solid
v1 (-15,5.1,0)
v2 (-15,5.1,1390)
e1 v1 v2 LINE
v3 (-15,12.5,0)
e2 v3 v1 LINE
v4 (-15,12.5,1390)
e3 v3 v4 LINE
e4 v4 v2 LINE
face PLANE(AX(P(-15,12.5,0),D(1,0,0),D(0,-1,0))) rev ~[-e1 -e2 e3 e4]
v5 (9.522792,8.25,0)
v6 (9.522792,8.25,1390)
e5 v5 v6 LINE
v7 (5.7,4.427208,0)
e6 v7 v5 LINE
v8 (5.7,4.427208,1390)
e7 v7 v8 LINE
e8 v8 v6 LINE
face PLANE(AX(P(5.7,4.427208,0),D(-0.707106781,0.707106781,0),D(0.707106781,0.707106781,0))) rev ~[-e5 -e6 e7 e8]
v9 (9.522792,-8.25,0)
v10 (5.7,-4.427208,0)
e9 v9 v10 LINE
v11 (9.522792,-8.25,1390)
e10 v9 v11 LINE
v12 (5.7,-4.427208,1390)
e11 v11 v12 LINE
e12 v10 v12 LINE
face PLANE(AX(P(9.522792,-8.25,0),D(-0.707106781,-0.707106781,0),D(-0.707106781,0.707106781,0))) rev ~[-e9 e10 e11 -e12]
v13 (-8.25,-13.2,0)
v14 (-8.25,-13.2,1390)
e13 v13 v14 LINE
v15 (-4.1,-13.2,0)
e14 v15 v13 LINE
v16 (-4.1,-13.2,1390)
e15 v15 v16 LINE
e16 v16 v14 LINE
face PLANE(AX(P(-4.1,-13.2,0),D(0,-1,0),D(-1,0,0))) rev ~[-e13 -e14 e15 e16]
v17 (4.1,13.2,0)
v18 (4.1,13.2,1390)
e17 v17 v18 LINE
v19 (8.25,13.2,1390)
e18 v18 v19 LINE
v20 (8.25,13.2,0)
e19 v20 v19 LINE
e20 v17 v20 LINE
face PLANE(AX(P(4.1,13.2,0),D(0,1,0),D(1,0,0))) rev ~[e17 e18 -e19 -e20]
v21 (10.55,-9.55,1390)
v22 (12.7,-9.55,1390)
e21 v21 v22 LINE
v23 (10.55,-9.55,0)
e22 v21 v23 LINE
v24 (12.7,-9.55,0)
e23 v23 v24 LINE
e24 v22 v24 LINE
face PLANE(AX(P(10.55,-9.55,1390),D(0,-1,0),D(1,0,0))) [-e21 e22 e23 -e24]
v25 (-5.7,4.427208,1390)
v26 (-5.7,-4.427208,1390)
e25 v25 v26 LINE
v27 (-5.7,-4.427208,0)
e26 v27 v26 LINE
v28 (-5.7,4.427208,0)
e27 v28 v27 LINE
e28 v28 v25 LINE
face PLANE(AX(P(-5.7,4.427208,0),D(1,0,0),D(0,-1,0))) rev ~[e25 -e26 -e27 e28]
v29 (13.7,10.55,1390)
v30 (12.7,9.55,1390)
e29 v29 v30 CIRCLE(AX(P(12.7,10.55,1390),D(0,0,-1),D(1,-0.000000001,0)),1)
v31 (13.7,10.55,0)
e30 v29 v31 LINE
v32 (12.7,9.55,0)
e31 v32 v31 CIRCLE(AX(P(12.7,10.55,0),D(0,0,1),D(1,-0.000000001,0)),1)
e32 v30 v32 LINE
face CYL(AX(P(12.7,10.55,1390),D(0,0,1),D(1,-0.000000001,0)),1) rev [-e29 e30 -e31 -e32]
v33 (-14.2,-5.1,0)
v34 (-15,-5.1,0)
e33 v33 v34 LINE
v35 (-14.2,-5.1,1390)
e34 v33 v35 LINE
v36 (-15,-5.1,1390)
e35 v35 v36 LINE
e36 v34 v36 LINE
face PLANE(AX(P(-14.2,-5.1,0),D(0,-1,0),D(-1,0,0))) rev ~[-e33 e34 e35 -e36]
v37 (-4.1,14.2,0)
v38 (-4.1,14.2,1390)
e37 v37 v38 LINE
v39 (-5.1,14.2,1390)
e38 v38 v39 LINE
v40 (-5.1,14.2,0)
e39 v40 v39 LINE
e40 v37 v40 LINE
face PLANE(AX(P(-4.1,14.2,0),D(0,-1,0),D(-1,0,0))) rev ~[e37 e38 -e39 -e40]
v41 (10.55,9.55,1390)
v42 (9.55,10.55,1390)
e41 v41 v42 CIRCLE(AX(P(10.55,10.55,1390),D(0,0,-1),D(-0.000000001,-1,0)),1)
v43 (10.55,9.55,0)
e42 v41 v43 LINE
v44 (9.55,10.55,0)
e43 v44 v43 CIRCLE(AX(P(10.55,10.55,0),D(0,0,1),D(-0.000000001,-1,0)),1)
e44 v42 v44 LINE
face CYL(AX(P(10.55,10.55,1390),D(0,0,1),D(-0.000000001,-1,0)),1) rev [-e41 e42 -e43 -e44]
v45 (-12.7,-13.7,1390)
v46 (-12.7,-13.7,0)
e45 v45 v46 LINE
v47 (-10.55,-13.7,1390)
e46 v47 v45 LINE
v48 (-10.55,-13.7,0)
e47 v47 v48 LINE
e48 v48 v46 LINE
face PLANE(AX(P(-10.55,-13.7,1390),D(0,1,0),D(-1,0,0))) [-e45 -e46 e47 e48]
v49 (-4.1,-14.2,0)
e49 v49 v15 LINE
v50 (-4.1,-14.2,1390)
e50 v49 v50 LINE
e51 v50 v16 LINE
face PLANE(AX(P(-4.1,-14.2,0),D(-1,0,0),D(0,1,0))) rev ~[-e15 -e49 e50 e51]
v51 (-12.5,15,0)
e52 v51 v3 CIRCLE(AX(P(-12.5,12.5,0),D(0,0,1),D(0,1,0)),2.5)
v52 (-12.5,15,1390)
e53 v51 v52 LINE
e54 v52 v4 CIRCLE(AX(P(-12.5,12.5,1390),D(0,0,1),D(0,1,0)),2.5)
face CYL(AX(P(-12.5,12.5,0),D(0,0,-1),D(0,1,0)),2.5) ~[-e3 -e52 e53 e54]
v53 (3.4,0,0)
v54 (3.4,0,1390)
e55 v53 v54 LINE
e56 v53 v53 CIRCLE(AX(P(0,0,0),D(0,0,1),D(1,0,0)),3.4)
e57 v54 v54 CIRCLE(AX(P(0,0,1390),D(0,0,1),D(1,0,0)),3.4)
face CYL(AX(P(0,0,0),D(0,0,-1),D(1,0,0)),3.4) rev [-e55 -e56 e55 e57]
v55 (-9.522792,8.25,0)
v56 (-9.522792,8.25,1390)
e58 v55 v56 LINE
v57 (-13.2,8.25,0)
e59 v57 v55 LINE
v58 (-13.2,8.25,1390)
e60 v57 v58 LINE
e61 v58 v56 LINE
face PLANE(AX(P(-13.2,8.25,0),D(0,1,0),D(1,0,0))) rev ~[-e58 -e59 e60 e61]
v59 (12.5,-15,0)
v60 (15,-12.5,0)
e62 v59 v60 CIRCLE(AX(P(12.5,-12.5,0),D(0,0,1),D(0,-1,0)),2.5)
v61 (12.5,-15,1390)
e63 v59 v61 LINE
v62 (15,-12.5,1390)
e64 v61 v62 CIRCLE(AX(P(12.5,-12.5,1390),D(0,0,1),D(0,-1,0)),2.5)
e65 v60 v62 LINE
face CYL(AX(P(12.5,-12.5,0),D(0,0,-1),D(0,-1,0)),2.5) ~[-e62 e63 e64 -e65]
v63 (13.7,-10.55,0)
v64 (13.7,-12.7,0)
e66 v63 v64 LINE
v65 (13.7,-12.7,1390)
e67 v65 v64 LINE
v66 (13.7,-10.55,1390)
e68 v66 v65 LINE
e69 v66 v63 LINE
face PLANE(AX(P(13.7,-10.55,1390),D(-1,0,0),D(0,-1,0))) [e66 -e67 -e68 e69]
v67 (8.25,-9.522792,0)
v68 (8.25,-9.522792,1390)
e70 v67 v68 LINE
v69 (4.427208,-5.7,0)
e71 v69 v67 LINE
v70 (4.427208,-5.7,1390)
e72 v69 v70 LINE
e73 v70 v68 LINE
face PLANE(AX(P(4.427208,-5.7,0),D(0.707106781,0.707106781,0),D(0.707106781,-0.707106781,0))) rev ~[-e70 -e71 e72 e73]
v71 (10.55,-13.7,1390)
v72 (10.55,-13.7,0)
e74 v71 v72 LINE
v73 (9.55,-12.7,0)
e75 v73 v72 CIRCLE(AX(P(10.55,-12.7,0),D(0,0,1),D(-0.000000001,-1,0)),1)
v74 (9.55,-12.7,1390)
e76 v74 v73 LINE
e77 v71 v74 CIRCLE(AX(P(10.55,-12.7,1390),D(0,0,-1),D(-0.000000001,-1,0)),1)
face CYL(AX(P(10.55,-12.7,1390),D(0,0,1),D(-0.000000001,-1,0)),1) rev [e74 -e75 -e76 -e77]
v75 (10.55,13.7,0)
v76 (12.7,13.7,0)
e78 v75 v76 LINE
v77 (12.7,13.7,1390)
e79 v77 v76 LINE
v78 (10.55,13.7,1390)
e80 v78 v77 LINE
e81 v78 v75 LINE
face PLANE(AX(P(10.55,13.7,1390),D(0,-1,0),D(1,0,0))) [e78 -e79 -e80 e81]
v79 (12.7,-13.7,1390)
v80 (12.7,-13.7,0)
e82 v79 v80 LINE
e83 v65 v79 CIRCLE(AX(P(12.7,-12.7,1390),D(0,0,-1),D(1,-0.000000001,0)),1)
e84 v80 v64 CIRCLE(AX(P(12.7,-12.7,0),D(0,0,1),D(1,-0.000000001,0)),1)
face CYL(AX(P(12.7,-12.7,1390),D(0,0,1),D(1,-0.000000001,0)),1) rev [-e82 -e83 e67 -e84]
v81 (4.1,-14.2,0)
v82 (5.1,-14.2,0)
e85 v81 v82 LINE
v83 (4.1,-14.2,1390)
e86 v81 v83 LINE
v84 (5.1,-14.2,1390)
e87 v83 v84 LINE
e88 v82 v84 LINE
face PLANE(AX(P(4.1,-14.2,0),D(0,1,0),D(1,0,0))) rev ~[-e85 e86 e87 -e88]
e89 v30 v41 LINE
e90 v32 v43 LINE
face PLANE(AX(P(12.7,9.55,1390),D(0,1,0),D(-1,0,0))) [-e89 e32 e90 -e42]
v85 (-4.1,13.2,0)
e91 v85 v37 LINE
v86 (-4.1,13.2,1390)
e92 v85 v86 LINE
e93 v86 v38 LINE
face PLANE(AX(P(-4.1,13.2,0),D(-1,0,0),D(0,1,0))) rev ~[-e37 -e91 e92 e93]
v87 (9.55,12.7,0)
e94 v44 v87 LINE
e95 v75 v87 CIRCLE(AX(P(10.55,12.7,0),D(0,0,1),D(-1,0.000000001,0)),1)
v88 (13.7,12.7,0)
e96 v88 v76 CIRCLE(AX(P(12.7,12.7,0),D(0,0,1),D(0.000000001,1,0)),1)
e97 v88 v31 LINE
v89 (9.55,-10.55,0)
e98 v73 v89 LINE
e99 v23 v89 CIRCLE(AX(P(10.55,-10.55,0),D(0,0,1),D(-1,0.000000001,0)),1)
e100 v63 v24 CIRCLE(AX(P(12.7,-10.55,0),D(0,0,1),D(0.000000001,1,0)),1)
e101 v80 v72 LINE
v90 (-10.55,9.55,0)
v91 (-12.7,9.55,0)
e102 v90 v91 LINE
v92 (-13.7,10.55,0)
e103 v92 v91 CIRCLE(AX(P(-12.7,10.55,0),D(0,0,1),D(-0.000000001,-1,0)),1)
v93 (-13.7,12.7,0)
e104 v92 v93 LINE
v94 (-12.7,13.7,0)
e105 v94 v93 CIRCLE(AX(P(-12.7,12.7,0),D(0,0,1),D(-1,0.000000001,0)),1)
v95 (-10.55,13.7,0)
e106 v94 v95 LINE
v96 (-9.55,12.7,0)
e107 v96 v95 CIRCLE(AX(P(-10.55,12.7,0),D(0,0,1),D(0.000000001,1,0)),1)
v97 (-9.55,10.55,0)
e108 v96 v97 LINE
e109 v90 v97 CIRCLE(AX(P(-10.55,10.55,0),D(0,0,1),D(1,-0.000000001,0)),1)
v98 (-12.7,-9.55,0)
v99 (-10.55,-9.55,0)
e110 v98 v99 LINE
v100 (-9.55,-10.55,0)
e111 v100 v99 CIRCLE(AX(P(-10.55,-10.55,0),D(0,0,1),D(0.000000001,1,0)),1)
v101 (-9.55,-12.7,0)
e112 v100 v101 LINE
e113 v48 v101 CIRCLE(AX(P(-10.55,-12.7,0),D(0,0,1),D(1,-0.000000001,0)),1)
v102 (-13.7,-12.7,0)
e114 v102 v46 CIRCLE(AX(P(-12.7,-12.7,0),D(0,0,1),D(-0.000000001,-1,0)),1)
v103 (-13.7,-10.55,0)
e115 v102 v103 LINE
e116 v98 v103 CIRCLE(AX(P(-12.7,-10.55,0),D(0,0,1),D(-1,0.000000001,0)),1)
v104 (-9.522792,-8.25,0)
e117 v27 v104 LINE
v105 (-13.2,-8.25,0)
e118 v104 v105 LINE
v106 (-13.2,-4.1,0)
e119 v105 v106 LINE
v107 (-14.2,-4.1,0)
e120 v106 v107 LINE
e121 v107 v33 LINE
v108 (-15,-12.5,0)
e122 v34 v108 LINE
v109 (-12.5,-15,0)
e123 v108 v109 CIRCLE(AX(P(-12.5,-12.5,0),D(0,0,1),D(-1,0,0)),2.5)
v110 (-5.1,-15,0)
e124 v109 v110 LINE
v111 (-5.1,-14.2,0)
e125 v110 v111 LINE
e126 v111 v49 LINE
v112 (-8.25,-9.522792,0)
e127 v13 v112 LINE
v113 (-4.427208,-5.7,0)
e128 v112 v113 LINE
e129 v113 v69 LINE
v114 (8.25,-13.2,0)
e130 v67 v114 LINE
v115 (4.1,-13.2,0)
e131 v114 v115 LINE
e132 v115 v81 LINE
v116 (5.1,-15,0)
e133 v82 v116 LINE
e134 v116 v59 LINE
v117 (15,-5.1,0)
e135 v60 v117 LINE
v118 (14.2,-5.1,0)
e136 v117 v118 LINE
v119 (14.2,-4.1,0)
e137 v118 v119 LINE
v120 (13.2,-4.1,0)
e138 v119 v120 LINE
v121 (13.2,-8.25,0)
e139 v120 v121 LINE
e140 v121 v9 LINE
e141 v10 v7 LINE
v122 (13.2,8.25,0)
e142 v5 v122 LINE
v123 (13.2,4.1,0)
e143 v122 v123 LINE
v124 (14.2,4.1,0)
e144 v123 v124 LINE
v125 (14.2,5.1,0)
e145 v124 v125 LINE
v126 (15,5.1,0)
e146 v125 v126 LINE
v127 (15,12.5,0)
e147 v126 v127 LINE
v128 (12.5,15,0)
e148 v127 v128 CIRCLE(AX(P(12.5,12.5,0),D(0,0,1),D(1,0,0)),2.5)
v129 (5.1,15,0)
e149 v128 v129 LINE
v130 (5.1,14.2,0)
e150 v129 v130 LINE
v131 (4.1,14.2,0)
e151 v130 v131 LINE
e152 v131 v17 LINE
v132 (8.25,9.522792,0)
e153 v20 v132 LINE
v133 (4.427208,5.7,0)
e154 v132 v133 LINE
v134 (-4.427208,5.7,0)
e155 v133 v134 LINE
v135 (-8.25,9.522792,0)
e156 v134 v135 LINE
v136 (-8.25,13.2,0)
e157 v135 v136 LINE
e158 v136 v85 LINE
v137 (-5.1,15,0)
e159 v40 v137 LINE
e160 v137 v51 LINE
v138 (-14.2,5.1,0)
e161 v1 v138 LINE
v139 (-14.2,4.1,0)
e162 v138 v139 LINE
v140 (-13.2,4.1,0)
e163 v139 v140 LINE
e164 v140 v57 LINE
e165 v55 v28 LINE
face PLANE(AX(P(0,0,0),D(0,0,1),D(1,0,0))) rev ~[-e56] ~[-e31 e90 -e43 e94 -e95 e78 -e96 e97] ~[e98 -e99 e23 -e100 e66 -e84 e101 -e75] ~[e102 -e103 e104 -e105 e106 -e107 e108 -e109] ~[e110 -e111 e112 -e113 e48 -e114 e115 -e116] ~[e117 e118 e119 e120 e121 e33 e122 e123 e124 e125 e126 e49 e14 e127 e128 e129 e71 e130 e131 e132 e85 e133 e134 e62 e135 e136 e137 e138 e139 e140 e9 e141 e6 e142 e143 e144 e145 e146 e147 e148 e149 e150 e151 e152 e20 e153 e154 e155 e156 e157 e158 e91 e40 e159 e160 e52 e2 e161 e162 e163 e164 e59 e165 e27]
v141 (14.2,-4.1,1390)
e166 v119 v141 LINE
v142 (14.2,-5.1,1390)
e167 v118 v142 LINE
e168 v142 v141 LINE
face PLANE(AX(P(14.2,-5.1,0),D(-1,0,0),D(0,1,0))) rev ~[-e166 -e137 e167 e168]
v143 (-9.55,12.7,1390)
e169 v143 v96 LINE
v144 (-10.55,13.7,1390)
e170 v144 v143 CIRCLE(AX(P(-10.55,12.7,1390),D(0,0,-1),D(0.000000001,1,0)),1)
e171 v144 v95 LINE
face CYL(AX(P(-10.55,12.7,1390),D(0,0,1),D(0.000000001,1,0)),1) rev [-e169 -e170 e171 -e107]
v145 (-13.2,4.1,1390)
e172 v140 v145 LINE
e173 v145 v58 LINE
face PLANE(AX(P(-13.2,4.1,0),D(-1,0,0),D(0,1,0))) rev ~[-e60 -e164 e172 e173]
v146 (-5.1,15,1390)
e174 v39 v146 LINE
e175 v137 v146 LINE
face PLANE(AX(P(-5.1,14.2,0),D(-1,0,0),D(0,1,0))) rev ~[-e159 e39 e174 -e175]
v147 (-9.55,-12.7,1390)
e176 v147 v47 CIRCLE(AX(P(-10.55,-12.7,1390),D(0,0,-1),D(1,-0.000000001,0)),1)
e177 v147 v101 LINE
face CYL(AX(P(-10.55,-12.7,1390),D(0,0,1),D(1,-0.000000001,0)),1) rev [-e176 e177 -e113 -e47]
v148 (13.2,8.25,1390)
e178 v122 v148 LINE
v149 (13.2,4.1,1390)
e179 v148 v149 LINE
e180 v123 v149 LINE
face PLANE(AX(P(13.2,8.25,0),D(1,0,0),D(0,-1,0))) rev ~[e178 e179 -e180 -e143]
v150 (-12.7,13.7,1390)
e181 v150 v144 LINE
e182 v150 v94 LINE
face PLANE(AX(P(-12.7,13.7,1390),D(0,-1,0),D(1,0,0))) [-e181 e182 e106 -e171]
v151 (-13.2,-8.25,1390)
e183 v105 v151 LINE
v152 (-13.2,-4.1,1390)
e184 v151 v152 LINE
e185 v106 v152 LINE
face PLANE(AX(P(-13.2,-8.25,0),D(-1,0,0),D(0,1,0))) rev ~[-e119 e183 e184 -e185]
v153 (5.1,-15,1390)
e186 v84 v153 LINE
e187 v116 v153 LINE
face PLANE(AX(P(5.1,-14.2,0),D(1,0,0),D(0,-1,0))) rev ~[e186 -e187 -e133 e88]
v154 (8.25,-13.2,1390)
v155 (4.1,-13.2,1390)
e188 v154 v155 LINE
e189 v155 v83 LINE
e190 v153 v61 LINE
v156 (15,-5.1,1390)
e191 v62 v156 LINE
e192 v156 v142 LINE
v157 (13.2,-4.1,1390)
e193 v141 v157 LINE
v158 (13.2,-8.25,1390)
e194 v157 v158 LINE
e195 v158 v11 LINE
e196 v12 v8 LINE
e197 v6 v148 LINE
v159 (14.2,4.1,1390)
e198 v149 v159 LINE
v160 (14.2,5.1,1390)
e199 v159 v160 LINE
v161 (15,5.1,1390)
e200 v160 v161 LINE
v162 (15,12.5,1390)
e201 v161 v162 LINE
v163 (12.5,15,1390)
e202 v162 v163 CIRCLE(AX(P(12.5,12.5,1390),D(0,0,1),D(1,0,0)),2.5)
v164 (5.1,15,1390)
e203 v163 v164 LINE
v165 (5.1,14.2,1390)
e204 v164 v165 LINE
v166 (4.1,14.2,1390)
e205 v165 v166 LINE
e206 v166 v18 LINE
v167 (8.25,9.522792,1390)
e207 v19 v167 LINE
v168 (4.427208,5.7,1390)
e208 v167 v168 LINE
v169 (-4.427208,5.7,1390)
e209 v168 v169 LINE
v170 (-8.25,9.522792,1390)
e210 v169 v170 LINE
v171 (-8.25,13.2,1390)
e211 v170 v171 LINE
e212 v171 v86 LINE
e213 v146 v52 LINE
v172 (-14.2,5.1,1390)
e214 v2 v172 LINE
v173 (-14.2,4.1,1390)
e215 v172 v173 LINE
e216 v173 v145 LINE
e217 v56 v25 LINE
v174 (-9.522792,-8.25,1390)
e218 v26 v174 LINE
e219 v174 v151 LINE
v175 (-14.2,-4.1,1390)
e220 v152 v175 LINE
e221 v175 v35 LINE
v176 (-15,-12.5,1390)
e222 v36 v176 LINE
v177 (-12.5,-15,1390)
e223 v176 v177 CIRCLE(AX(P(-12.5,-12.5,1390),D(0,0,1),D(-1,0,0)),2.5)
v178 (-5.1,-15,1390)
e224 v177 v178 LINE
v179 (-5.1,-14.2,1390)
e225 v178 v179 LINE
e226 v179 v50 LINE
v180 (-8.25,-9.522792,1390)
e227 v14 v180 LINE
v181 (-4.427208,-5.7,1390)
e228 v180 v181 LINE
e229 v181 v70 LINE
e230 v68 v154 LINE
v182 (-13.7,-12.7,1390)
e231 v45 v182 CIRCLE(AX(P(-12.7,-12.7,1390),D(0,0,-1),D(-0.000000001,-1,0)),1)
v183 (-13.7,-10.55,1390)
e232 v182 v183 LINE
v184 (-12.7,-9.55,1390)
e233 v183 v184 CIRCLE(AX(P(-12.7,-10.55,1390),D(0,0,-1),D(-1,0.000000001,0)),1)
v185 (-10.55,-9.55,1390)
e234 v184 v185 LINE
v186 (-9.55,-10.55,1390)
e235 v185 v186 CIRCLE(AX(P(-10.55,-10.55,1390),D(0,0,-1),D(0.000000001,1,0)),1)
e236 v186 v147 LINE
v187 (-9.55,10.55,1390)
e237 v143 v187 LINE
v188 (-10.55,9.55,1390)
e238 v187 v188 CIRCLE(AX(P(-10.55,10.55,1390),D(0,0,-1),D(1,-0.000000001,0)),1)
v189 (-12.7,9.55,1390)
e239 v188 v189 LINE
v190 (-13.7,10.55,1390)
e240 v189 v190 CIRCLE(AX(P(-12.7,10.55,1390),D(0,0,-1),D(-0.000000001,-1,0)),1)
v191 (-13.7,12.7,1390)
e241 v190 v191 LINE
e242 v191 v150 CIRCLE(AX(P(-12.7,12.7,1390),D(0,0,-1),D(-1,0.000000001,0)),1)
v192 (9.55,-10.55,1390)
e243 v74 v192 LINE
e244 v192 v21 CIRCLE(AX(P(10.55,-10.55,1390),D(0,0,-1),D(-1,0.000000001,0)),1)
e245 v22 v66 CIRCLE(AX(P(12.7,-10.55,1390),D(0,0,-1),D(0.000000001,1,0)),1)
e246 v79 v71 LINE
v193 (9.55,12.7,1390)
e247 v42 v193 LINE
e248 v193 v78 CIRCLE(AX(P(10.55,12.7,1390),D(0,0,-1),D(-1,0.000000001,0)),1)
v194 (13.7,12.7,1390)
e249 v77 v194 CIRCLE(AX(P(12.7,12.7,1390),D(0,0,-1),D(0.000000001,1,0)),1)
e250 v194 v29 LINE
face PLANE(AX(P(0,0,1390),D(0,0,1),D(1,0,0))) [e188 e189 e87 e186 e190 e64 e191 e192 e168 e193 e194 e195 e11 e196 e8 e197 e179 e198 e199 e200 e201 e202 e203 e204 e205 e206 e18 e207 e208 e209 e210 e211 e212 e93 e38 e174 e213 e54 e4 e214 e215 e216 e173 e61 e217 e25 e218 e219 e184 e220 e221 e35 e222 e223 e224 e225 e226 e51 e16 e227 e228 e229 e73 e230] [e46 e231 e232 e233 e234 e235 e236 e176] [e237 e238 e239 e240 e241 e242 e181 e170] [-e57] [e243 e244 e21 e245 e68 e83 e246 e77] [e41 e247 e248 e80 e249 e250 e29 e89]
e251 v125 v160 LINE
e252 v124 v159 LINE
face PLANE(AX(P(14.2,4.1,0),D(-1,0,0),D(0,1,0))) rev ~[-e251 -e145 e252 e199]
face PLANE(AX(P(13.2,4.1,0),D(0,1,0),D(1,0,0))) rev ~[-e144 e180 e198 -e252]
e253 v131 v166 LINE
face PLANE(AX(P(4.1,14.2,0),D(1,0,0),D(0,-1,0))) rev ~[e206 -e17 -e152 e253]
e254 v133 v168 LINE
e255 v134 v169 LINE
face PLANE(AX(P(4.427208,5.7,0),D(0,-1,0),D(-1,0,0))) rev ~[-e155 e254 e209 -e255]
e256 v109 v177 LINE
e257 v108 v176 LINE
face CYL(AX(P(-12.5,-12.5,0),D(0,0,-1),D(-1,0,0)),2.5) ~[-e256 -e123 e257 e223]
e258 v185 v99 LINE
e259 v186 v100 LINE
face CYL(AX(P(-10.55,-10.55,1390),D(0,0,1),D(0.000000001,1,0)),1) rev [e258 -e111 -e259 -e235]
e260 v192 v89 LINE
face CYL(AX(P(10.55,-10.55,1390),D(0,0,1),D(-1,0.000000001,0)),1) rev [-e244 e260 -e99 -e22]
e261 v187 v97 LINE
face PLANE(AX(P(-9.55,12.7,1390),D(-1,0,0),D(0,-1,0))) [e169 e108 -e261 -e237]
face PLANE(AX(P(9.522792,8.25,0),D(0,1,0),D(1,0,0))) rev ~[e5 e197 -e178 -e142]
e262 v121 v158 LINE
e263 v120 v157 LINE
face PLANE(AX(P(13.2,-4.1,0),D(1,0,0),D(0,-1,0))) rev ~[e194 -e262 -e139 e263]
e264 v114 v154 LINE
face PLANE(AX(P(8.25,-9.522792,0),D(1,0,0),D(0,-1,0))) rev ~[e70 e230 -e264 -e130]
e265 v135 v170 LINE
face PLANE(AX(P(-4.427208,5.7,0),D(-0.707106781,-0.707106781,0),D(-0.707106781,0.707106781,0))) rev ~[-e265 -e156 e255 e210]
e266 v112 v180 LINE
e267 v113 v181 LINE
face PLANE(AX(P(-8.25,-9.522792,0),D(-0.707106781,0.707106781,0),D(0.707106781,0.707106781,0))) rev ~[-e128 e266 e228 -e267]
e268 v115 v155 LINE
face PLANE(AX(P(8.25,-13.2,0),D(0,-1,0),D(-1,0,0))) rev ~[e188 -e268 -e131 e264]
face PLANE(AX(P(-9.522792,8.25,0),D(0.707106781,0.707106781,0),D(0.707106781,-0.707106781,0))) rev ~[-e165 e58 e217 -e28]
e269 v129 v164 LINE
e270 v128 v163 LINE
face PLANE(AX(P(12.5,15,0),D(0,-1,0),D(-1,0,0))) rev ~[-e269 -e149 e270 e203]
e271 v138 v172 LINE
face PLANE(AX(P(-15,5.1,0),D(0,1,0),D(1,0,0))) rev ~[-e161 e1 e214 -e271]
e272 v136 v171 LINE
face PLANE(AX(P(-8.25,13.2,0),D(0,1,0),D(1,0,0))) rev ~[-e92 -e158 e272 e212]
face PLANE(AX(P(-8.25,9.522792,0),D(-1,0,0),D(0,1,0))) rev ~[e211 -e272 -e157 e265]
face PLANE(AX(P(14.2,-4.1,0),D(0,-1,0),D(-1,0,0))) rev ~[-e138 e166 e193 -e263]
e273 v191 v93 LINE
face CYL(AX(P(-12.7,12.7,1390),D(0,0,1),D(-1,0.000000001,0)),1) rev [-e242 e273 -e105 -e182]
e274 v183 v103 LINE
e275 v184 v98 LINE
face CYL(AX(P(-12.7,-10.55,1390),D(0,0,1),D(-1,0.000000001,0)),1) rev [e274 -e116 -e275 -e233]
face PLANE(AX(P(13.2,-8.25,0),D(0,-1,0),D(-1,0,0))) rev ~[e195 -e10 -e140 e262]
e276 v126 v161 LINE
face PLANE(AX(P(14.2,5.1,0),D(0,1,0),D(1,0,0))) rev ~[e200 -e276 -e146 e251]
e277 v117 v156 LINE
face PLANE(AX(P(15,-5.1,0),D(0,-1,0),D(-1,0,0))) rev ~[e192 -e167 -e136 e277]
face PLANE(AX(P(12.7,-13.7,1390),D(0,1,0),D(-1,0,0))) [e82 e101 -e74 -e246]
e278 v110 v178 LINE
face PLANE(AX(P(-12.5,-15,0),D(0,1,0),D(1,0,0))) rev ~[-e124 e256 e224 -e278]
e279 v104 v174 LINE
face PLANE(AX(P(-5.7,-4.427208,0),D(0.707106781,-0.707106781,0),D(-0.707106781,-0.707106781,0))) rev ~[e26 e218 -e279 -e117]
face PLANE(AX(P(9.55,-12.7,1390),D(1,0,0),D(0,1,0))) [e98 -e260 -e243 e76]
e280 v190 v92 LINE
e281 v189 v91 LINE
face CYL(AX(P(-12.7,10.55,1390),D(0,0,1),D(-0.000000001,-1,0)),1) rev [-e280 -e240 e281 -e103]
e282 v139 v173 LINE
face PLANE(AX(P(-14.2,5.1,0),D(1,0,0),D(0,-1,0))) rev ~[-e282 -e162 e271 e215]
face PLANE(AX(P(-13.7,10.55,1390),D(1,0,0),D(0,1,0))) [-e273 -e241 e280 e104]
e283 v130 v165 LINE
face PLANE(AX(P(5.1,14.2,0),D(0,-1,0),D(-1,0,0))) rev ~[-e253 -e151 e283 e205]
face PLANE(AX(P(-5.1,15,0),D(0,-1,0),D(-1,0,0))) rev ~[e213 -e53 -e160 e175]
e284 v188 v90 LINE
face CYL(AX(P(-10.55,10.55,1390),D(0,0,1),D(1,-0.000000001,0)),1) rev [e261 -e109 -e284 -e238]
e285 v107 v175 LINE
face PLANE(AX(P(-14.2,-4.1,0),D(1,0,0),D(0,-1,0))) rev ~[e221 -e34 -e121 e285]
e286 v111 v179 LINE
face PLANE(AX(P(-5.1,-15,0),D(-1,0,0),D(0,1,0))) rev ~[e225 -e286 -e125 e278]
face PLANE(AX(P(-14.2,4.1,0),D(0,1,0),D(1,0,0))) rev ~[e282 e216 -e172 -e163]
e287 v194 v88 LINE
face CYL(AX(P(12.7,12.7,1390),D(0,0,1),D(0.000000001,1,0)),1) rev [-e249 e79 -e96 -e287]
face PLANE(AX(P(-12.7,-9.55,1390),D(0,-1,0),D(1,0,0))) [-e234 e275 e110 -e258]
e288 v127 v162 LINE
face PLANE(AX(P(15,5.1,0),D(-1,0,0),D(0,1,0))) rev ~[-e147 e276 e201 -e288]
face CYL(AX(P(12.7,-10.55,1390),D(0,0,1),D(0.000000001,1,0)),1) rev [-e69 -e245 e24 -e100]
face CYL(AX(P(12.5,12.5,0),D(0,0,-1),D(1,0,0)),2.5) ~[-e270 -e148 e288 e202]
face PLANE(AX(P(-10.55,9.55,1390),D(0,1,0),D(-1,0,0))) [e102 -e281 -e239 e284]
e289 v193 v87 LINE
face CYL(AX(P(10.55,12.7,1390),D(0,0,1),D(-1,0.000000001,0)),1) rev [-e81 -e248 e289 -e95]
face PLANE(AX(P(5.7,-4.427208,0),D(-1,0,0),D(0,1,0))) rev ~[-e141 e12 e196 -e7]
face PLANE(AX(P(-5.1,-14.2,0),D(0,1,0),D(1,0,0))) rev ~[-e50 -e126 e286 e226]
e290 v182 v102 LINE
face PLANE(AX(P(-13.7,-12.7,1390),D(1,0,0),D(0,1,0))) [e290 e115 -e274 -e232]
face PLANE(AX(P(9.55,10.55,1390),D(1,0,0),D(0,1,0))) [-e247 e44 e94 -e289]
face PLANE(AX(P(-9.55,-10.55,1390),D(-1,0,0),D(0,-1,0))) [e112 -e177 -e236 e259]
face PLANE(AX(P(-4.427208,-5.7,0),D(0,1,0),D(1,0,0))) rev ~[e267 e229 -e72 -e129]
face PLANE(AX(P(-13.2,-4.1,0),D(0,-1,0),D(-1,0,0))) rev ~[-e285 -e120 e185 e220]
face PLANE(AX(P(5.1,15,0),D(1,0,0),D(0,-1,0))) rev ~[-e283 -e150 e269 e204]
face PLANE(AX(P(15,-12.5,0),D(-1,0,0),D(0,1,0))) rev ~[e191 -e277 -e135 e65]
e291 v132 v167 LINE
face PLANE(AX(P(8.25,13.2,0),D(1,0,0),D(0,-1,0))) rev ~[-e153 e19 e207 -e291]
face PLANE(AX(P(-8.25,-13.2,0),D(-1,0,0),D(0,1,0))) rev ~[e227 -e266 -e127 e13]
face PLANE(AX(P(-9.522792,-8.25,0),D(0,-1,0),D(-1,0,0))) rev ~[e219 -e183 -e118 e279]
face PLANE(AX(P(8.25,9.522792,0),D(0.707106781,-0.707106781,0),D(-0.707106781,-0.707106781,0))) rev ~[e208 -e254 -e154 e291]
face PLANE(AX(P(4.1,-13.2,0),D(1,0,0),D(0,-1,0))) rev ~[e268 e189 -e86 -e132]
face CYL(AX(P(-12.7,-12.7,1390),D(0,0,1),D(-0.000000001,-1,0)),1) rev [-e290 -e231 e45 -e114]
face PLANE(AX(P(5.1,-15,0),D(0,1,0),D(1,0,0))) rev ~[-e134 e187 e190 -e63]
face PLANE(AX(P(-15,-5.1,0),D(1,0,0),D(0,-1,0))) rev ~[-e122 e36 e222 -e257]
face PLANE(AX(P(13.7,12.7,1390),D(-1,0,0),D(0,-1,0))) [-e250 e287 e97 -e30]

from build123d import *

# Parameters (mm, degrees)
SKETCH1_R      = 3.4
EXTRUDE1_DEPTH = 1390
EXTRUDE2_DEPTH = 1391.161861079


with BuildPart() as part:
    # Sketch1 → Extrude1 (new body)
    with BuildSketch(Plane.XY):
        with BuildLine():
            Line((-5.1, 14.2), (-5.1, 15))
            Line((-5.1, 15), (-12.5, 15))
            ThreePointArc((-12.5, 15), (-14.267766953, 14.267766953), (-15, 12.5))
            Line((-15, 12.5), (-15, 5.1))
            Line((-15, 5.1), (-14.2, 5.1))
            Line((-14.2, 5.1), (-14.2, 4.1))
            Line((-14.2, 4.1), (-13.2, 4.1))
            Line((-13.2, 4.1), (-13.2, 8.25))
            Line((-13.2, 8.25), (-9.522792206, 8.25))
            Line((-9.522792206, 8.25), (-5.7, 4.427207794))
            Line((-5.7, 4.427207794), (-5.7, -4.427207794))
            Line((-5.7, -4.427207794), (-9.522792206, -8.25))
            Line((-9.522792206, -8.25), (-13.2, -8.25))
            Line((-13.2, -8.25), (-13.2, -4.1))
            Line((-13.2, -4.1), (-14.2, -4.1))
            Line((-14.2, -4.1), (-14.2, -5.1))
            Line((-14.2, -5.1), (-15, -5.1))
            Line((-15, -5.1), (-15, -12.5))
            ThreePointArc((-15, -12.5), (-14.267766953, -14.267766953), (-12.5, -15))
            Line((-12.5, -15), (-5.1, -15))
            Line((-5.1, -15), (-5.1, -14.2))
            Line((-5.1, -14.2), (-4.1, -14.2))
            Line((-4.1, -14.2), (-4.1, -13.2))
            Line((-4.1, -13.2), (-8.25, -13.2))
            Line((-8.25, -13.2), (-8.25, -9.522792206))
            Line((-8.25, -9.522792206), (-4.427207794, -5.7))
            Line((-4.427207794, -5.7), (4.427207794, -5.7))
            Line((4.427207794, -5.7), (8.25, -9.522792206))
            Line((8.25, -9.522792206), (8.25, -13.2))
            Line((8.25, -13.2), (4.1, -13.2))
            Line((4.1, -13.2), (4.1, -14.2))
            Line((4.1, -14.2), (5.1, -14.2))
            Line((5.1, -14.2), (5.1, -15))
            Line((5.1, -15), (12.5, -15))
            ThreePointArc((12.5, -15), (14.267766953, -14.267766953), (15, -12.5))
            Line((15, -12.5), (15, -5.1))
            Line((15, -5.1), (14.2, -5.1))
            Line((14.2, -5.1), (14.2, -4.1))
            Line((14.2, -4.1), (13.2, -4.1))
            Line((13.2, -4.1), (13.2, -8.25))
            Line((13.2, -8.25), (9.522792206, -8.25))
            Line((9.522792206, -8.25), (5.7, -4.427207794))
            Line((5.7, -4.427207794), (5.7, 4.427207794))
            Line((5.7, 4.427207794), (9.522792206, 8.25))
            Line((9.522792206, 8.25), (13.2, 8.25))
            Line((13.2, 8.25), (13.2, 4.1))
            Line((13.2, 4.1), (14.2, 4.1))
            Line((14.2, 4.1), (14.2, 5.1))
            Line((14.2, 5.1), (15, 5.1))
            Line((15, 5.1), (15, 12.5))
            ThreePointArc((15, 12.5), (14.267766953, 14.267766953), (12.5, 15))
            Line((12.5, 15), (5.1, 15))
            Line((5.1, 15), (5.1, 14.2))
            Line((5.1, 14.2), (4.1, 14.2))
            Line((4.1, 14.2), (4.1, 13.2))
            Line((4.1, 13.2), (8.25, 13.2))
            Line((8.25, 13.2), (8.25, 9.522792206))
            Line((8.25, 9.522792206), (4.427207794, 5.7))
            Line((4.427207794, 5.7), (-4.427207794, 5.7))
            Line((-4.427207794, 5.7), (-8.25, 9.522792206))
            Line((-8.25, 9.522792206), (-8.25, 13.2))
            Line((-8.25, 13.2), (-4.1, 13.2))
            Line((-4.1, 13.2), (-4.1, 14.2))
            Line((-4.1, 14.2), (-5.1, 14.2))
        make_face()
        Circle(SKETCH1_R, mode=Mode.SUBTRACT)
    extrude(amount=EXTRUDE1_DEPTH)

    # Sketch2 → Extrude2 (cut, through all)
    with BuildSketch(Plane.XY.offset(1390)):
        with BuildLine():
            Line((13.7, 12.7), (13.7, 10.55))
            ThreePointArc((13.7, 10.55), (13.407106781, 9.842893219), (12.7, 9.55))
            Line((12.7, 9.55), (10.55, 9.55))
            ThreePointArc((10.55, 9.55), (9.842893219, 9.842893219), (9.55, 10.55))
            Line((9.55, 10.55), (9.55, 12.7))
            ThreePointArc((9.55, 12.7), (9.842893219, 13.407106781), (10.55, 13.7))
            Line((10.55, 13.7), (12.7, 13.7))
            ThreePointArc((12.7, 13.7), (13.407106781, 13.407106781), (13.7, 12.7))
        make_face()
        with BuildLine():
            Line((-12.7, 13.7), (-10.55, 13.7))
            ThreePointArc((-10.55, 13.7), (-9.842893219, 13.407106781), (-9.55, 12.7))
            Line((-9.55, 12.7), (-9.55, 10.55))
            ThreePointArc((-9.55, 10.55), (-9.842893219, 9.842893219), (-10.55, 9.55))
            Line((-10.55, 9.55), (-12.7, 9.55))
            ThreePointArc((-12.7, 9.55), (-13.407106781, 9.842893219), (-13.7, 10.55))
            Line((-13.7, 10.55), (-13.7, 12.7))
            ThreePointArc((-13.7, 12.7), (-13.407106781, 13.407106781), (-12.7, 13.7))
        make_face()
        with BuildLine():
            Line((12.7, -13.7), (10.55, -13.7))
            ThreePointArc((10.55, -13.7), (9.842893219, -13.407106781), (9.55, -12.7))
            Line((9.55, -12.7), (9.55, -10.55))
            ThreePointArc((9.55, -10.55), (9.842893219, -9.842893219), (10.55, -9.55))
            Line((10.55, -9.55), (12.7, -9.55))
            ThreePointArc((12.7, -9.55), (13.407106781, -9.842893219), (13.7, -10.55))
            Line((13.7, -10.55), (13.7, -12.7))
            ThreePointArc((13.7, -12.7), (13.407106781, -13.407106781), (12.7, -13.7))
        make_face()
        with BuildLine():
            Line((-13.7, -12.7), (-13.7, -10.55))
            ThreePointArc((-13.7, -10.55), (-13.407106781, -9.842893219), (-12.7, -9.55))
            Line((-12.7, -9.55), (-10.55, -9.55))
            ThreePointArc((-10.55, -9.55), (-9.842893219, -9.842893219), (-9.55, -10.55))
            Line((-9.55, -10.55), (-9.55, -12.7))
            ThreePointArc((-9.55, -12.7), (-9.842893219, -13.407106781), (-10.55, -13.7))
            Line((-10.55, -13.7), (-12.7, -13.7))
            ThreePointArc((-12.7, -13.7), (-13.407106781, -13.407106781), (-13.7, -12.7))
        make_face()
    extrude(amount=-EXTRUDE2_DEPTH, mode=Mode.SUBTRACT)


solid = part.part
